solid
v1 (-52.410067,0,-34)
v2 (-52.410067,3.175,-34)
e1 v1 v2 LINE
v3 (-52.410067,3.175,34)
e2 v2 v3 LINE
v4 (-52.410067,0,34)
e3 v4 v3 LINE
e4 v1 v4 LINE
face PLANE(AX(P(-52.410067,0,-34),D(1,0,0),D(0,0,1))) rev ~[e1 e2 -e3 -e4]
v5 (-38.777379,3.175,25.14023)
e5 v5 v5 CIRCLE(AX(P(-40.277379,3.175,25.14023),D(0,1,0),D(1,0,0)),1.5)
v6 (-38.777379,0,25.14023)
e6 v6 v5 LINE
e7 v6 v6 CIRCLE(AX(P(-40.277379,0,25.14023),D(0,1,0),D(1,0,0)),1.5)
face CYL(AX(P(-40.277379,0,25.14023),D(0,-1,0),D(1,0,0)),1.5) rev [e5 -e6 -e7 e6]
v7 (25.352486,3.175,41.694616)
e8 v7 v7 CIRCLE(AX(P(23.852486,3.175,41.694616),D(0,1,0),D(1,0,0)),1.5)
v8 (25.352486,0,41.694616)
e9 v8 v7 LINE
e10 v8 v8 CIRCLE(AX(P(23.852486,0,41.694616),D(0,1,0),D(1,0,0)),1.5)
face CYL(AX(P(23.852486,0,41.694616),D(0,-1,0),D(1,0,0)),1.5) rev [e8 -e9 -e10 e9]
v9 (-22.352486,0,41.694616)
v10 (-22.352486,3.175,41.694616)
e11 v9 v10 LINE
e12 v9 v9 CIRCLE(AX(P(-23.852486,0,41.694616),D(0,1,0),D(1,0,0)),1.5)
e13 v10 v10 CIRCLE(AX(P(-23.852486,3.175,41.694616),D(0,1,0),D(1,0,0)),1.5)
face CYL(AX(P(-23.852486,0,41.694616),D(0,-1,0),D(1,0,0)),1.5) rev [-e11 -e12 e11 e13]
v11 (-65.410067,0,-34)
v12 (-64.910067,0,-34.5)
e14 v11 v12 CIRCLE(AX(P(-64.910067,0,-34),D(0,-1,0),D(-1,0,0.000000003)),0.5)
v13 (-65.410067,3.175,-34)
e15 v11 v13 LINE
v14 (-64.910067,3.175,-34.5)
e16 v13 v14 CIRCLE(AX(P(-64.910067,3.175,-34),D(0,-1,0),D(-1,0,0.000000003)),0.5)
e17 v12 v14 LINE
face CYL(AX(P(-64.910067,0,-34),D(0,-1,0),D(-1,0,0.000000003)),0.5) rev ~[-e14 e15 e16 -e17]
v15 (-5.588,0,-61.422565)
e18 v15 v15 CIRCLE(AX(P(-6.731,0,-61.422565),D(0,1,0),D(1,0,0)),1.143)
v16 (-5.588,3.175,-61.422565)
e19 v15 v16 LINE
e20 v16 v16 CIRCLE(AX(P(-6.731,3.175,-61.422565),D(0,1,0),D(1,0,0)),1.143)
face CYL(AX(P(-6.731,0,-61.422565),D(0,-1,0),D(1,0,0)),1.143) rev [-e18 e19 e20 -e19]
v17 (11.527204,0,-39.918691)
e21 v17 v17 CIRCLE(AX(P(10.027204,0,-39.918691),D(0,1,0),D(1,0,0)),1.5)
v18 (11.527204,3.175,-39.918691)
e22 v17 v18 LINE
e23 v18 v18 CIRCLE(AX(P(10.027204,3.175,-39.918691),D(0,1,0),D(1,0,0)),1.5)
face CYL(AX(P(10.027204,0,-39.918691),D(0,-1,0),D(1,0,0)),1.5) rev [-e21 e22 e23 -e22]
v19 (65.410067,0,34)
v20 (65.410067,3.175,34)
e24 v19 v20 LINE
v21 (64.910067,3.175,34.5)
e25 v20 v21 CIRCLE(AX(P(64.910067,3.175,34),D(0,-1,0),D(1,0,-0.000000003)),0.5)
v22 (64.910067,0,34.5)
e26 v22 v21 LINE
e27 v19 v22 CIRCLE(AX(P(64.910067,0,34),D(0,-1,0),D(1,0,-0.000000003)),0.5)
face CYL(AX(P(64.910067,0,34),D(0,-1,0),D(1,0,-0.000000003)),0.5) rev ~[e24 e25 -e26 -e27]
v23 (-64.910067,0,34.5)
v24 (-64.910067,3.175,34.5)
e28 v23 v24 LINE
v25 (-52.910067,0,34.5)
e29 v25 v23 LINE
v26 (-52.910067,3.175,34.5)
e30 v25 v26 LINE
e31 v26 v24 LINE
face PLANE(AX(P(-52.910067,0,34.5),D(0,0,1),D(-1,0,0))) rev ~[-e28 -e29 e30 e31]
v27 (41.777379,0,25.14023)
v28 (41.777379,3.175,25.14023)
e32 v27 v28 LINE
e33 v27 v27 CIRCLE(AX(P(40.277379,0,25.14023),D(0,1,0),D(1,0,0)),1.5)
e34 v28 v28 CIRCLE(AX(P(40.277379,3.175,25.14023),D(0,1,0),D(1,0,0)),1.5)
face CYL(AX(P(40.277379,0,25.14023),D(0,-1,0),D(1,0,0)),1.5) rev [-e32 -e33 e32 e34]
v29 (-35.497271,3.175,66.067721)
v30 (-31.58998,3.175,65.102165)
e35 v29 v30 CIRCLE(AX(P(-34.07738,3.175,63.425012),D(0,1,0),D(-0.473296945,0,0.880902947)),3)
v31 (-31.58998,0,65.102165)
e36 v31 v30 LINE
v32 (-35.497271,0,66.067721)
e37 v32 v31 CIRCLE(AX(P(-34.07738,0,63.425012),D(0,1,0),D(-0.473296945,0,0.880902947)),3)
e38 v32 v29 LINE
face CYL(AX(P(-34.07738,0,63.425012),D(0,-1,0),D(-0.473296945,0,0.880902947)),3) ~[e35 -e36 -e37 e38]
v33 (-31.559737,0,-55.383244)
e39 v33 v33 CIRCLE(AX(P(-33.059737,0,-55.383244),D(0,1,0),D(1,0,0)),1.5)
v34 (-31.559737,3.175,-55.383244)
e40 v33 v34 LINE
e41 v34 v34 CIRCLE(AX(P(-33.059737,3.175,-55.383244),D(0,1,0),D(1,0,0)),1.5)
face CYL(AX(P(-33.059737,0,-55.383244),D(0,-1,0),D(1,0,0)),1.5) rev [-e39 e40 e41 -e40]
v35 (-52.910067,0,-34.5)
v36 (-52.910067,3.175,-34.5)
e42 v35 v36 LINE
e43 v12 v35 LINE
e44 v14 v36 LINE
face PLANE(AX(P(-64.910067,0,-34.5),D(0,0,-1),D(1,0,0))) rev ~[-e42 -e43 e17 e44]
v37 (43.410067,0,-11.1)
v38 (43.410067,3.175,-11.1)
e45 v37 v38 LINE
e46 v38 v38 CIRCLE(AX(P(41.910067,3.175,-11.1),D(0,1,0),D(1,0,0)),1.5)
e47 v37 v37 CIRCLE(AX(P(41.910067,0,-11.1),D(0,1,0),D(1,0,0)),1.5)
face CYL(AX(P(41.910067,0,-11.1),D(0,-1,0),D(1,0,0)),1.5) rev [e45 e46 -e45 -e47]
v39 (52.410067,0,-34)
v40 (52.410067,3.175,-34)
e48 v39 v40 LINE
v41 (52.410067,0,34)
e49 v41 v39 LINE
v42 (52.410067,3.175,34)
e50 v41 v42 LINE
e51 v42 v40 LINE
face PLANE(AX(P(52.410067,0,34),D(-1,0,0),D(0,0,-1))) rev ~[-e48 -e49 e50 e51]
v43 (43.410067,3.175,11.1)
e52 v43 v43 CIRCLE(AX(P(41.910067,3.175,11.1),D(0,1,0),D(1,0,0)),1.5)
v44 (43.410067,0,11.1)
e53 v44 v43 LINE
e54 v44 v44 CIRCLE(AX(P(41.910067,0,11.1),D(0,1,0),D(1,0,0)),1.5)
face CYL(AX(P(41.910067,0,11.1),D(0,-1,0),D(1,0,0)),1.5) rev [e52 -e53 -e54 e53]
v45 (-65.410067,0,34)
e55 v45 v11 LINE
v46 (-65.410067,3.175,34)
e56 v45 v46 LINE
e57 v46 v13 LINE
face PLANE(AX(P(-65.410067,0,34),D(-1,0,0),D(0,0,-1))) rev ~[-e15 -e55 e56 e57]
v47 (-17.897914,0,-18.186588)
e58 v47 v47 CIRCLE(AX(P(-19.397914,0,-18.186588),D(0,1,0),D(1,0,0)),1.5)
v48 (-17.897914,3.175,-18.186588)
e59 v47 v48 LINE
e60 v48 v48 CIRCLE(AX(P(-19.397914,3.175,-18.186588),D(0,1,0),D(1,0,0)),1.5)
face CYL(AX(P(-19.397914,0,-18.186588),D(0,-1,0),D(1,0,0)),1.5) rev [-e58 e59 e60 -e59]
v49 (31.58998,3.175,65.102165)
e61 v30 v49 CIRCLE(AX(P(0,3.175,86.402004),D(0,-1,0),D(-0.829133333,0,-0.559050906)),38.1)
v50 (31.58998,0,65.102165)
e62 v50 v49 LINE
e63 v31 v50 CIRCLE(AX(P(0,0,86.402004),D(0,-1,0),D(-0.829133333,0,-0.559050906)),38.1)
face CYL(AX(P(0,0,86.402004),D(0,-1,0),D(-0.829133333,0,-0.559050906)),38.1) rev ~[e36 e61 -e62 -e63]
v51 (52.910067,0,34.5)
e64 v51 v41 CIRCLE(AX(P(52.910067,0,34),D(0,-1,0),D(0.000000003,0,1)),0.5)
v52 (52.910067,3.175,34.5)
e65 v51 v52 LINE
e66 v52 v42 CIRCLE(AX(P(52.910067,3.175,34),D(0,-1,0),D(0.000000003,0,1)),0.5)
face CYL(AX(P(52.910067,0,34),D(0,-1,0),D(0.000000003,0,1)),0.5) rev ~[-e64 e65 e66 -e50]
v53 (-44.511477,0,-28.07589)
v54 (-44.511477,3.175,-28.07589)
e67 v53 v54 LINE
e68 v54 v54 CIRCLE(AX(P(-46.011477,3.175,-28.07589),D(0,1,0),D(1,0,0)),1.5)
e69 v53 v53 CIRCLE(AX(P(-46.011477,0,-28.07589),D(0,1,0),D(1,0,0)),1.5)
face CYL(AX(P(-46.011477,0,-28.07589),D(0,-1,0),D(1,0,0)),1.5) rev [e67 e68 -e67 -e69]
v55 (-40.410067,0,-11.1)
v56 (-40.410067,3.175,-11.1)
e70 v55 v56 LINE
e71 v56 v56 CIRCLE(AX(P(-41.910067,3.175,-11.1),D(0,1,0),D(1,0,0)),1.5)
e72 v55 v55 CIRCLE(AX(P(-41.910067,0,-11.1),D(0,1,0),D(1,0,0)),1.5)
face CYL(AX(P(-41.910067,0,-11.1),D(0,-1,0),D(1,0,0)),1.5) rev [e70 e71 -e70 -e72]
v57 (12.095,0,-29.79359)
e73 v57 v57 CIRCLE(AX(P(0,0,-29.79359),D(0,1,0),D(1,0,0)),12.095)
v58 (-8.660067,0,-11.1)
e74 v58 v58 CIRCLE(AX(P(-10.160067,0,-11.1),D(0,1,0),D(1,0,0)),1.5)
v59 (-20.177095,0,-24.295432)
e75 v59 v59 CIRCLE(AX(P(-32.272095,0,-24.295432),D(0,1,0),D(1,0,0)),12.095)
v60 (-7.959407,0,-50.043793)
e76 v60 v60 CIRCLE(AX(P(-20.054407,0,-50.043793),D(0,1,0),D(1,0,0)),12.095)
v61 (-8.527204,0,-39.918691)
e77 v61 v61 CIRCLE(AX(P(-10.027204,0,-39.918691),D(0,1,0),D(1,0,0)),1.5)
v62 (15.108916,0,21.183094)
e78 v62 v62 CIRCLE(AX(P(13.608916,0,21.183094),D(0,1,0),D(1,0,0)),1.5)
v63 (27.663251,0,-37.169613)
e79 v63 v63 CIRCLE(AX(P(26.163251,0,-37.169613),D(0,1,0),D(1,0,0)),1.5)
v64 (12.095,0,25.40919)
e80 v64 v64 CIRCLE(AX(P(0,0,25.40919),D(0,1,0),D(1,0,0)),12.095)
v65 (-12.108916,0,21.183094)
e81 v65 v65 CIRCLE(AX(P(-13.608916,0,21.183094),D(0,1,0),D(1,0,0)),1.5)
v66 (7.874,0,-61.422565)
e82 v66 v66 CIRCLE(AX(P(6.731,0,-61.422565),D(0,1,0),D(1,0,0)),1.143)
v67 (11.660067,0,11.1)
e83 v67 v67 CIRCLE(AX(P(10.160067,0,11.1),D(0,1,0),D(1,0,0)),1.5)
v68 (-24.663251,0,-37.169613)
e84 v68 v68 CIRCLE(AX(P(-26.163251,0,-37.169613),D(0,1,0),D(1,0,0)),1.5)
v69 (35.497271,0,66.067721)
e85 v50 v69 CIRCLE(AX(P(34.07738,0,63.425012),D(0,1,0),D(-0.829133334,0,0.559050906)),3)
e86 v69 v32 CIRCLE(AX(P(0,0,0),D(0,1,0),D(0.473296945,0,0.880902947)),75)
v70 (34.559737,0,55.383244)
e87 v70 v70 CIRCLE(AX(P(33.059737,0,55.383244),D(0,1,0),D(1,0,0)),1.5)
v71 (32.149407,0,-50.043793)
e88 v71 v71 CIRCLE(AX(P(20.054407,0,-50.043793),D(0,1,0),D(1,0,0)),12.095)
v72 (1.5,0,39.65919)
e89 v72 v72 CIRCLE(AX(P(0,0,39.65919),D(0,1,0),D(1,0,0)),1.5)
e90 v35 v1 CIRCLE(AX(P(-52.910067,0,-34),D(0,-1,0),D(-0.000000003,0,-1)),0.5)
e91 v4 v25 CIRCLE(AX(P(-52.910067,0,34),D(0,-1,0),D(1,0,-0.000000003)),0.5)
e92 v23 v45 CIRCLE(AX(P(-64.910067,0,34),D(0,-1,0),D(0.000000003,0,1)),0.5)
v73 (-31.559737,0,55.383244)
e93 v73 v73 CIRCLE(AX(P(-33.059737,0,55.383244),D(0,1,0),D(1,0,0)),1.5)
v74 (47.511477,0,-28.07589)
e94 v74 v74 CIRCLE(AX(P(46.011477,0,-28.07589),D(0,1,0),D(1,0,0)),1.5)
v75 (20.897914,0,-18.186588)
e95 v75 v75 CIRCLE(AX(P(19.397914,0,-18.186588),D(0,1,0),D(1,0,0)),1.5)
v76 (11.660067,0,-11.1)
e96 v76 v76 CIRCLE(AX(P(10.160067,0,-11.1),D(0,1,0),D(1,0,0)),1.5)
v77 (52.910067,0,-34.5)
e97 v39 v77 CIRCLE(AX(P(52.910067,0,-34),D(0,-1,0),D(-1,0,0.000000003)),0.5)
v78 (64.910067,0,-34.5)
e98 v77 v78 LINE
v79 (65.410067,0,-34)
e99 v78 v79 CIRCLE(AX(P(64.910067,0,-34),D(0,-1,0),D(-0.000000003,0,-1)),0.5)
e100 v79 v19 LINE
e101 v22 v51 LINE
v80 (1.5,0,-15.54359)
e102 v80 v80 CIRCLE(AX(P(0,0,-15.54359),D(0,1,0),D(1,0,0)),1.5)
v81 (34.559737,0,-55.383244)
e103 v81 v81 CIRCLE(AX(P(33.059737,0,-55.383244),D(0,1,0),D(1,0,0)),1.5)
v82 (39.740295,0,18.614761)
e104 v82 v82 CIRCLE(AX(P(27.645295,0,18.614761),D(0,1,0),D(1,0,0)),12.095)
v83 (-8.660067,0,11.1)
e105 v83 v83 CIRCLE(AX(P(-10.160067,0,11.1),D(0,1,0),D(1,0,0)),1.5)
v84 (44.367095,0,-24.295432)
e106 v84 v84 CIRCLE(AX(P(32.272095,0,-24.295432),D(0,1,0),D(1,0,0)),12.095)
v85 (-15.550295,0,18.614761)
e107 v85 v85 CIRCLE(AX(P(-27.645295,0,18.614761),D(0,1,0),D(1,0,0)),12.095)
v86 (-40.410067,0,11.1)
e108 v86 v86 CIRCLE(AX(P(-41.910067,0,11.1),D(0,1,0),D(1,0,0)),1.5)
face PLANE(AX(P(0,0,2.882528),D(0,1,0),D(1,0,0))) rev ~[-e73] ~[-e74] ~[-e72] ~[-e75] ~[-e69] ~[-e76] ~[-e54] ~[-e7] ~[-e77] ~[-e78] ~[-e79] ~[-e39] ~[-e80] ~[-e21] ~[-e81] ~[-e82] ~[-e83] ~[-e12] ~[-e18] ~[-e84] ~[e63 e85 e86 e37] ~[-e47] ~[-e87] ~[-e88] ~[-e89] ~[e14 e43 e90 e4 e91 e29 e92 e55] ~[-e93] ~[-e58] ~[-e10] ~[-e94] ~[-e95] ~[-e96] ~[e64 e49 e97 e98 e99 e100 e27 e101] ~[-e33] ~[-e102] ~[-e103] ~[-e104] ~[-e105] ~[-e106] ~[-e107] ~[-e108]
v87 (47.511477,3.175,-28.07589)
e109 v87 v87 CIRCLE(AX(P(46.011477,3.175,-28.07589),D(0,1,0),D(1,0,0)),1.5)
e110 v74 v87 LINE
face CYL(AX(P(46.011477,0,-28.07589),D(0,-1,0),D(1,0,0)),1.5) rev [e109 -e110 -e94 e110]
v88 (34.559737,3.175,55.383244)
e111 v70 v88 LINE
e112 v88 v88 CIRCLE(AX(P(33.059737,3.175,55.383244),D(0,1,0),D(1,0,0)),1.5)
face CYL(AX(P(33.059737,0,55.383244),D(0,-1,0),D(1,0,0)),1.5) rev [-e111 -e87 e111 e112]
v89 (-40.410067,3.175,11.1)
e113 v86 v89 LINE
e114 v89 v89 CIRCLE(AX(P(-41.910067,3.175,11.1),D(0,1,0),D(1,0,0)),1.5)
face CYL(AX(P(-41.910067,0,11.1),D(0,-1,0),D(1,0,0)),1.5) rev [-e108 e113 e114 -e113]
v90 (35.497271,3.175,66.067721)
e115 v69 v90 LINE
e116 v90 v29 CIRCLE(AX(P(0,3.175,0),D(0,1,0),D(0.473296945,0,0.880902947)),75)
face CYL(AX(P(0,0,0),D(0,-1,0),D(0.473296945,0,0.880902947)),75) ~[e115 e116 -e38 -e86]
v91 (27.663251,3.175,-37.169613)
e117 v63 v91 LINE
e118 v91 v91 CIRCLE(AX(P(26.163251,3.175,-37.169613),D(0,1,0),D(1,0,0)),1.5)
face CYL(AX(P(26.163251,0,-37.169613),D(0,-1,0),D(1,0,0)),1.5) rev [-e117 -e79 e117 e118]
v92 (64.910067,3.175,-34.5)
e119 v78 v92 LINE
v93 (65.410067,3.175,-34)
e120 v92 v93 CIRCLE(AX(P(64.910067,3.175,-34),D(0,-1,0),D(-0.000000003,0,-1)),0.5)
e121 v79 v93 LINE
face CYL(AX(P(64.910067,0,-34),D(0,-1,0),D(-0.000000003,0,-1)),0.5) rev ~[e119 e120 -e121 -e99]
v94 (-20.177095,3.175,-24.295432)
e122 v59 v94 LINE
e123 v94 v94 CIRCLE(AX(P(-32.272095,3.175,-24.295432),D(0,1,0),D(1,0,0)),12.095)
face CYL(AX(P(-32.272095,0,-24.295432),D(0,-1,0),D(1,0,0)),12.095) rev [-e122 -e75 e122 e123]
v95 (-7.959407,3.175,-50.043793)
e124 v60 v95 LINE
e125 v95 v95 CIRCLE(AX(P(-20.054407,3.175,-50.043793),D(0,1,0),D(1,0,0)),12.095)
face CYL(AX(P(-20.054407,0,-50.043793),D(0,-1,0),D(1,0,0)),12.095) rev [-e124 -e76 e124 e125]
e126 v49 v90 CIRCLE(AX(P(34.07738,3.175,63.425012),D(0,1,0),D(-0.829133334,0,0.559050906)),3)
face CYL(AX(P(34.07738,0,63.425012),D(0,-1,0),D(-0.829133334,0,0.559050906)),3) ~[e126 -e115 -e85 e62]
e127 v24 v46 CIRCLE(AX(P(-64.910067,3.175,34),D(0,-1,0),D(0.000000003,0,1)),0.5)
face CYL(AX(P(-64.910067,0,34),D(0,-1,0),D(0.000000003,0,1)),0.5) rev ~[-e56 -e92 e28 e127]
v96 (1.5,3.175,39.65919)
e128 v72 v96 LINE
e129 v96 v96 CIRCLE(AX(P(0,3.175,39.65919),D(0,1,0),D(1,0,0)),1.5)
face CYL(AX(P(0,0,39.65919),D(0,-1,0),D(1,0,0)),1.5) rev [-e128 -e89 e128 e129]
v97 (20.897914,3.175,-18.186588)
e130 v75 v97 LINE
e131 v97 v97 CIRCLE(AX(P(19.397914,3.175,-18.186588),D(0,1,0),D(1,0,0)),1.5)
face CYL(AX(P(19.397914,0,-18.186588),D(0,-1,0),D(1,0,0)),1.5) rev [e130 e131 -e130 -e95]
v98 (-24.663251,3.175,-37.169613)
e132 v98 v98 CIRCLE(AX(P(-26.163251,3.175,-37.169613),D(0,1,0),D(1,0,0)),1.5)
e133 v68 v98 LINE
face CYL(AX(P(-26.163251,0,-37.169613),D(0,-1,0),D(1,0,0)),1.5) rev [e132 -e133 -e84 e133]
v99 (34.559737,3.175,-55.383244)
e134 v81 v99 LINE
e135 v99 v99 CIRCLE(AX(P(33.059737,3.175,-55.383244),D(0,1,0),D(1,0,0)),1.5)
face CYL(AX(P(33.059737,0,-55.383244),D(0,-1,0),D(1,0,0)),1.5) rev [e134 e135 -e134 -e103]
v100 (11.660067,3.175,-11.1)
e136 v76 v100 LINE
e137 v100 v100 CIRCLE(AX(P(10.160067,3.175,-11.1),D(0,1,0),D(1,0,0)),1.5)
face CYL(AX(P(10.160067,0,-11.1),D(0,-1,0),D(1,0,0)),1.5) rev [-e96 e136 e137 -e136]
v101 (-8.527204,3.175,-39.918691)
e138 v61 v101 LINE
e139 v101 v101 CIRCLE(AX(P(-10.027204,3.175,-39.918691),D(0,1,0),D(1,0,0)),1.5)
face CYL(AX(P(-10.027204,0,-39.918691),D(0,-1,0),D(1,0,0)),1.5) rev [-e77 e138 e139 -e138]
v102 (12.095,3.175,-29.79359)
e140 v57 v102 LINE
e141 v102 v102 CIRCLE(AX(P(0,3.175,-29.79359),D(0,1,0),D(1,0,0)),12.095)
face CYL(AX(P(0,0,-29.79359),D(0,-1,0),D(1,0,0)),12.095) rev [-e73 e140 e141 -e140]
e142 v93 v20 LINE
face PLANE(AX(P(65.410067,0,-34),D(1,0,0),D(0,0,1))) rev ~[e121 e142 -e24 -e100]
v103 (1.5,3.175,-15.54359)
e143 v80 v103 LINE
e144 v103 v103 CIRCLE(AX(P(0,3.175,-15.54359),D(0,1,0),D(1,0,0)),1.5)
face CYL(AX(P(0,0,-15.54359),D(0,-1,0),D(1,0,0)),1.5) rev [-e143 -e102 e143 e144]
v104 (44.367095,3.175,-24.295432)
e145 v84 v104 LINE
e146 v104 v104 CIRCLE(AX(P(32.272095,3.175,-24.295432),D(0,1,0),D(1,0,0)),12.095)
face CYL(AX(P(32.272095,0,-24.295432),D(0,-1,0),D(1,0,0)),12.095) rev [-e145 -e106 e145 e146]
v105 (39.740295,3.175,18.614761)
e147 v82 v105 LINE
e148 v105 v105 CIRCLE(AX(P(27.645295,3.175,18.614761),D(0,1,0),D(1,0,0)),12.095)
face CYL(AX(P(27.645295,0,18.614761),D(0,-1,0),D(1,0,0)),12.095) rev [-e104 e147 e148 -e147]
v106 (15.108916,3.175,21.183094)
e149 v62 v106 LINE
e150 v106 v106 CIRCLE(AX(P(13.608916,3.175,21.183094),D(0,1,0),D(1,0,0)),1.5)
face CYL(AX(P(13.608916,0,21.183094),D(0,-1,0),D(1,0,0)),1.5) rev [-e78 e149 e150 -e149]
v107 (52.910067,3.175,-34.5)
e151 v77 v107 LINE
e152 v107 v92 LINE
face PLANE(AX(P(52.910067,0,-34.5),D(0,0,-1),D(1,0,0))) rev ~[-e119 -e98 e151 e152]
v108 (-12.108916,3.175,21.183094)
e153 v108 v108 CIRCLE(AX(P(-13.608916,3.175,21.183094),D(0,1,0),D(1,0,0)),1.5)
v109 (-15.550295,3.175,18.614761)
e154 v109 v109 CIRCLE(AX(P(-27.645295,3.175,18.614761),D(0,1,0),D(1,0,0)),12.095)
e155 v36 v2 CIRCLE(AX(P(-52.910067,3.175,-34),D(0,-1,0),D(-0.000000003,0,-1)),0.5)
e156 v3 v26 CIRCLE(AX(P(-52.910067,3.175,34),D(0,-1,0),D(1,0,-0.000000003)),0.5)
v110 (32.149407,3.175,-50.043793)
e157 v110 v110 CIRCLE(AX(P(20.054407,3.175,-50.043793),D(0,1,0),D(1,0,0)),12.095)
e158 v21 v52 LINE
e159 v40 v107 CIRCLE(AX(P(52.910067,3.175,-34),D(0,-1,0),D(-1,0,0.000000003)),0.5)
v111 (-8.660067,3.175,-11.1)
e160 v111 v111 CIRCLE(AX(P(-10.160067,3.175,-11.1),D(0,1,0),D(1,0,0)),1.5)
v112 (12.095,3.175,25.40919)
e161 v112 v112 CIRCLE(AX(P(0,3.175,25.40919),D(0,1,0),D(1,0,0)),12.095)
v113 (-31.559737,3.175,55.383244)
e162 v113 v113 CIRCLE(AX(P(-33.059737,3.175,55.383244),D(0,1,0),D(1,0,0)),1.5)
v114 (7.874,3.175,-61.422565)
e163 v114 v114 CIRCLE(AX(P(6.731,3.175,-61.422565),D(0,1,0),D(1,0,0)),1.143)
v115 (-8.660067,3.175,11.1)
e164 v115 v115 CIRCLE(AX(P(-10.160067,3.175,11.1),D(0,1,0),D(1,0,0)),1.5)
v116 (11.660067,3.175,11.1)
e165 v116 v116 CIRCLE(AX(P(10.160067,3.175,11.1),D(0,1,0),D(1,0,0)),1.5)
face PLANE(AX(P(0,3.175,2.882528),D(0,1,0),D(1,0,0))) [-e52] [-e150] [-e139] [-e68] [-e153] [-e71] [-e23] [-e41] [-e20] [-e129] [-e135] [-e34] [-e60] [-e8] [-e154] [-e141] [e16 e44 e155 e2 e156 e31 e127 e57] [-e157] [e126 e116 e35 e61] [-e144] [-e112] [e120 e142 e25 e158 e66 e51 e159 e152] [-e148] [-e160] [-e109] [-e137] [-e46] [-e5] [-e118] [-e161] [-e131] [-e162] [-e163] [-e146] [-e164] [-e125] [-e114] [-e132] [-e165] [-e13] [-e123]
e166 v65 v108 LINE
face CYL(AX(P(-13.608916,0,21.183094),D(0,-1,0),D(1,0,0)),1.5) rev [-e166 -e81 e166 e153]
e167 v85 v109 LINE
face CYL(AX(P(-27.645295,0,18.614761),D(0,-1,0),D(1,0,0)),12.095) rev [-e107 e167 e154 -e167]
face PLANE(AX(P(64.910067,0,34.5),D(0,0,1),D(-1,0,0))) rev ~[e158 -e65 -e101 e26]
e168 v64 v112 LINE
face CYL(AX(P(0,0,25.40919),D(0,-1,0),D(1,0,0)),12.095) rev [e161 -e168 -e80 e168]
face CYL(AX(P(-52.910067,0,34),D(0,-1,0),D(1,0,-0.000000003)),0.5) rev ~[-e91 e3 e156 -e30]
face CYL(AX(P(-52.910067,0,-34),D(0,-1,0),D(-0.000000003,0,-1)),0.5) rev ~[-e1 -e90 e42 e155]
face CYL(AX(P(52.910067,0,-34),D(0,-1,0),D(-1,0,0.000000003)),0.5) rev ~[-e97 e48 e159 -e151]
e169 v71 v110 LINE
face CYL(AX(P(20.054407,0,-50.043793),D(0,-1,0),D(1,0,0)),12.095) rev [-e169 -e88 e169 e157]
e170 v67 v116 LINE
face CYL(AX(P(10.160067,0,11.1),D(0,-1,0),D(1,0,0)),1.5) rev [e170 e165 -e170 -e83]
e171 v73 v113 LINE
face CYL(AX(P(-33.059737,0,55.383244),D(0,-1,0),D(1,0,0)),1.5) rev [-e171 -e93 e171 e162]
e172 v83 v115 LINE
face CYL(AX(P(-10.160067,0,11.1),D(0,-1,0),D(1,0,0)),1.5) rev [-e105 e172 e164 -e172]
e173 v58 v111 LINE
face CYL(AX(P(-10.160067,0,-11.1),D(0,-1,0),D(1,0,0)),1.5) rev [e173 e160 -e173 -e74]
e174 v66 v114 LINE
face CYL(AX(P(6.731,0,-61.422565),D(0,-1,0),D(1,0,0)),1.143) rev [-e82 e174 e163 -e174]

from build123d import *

# Parameters (mm, degrees)
SKETCH1_R           = 1.5
SKETCH1_R_2         = 12.095
SKETCH1_R_3         = 1.143
BOSS_EXTRUDE2_DEPTH = 3.175


with BuildPart() as part:
    # Sketch1 → Boss-Extrude2 (new body)
    with BuildSketch(Plane(origin=(0, 0, 0), x_dir=(1, 0, 0), z_dir=(0, 1, 0))):
        with BuildLine():
            ThreePointArc((31.589980006, -65.102164912), (33.357679643, -66.33740492), (35.49727084, -66.067721036))
            ThreePointArc((35.49727084, -66.067721036), (0, 75), (-35.49727084, -66.067721036))
            ThreePointArc((-35.49727084, -66.067721036), (-33.357679643, -66.33740492), (-31.589980006, -65.102164912))
            ThreePointArc((-31.589980006, -65.102164912), (0, -48.302004425), (31.589980006, -65.102164912))
        make_face()
        with Locations((-33.059737365, -55.383244446)):
            Circle(SKETCH1_R, mode=Mode.SUBTRACT)
        with Locations((-23.852486199, -41.694616163)):
            Circle(SKETCH1_R, mode=Mode.SUBTRACT)
        with Locations((0, -39.659190322)):
            Circle(SKETCH1_R, mode=Mode.SUBTRACT)
        with Locations((-40.277379234, -25.14022965)):
            Circle(SKETCH1_R, mode=Mode.SUBTRACT)
        with BuildLine():
            Line((-52.910067426, -34.5), (-64.910067426, -34.5))
            ThreePointArc((-64.910067426, -34.5), (-65.263620817, -34.353553391), (-65.410067426, -34))
            Line((-65.410067426, -34), (-65.410067426, 34))
            ThreePointArc((-65.410067426, 34), (-65.263620817, 34.353553391), (-64.910067426, 34.5))
            Line((-64.910067426, 34.5), (-52.910067426, 34.5))
            ThreePointArc((-52.910067426, 34.5), (-52.556514035, 34.353553391), (-52.410067426, 34))
            Line((-52.410067426, 34), (-52.410067426, -34))
            ThreePointArc((-52.410067426, -34), (-52.556514035, -34.353553391), (-52.910067426, -34.5))
        make_face(mode=Mode.SUBTRACT)
        with Locations((-41.910067426, -11.1)):
            Circle(SKETCH1_R, mode=Mode.SUBTRACT)
        with Locations((-27.645294552, -18.614761308)):
            Circle(SKETCH1_R_2, mode=Mode.SUBTRACT)
        with Locations((0, -25.409190322)):
            Circle(SKETCH1_R_2, mode=Mode.SUBTRACT)
        with Locations((-13.608916499, -21.183093811)):
            Circle(SKETCH1_R, mode=Mode.SUBTRACT)
        with Locations((-10.160067426, -11.1)):
            Circle(SKETCH1_R, mode=Mode.SUBTRACT)
        with Locations((33.059737365, -55.383244446)):
            Circle(SKETCH1_R, mode=Mode.SUBTRACT)
        with Locations((23.852486199, -41.694616163)):
            Circle(SKETCH1_R, mode=Mode.SUBTRACT)
        with Locations((13.608916499, -21.183093811)):
            Circle(SKETCH1_R, mode=Mode.SUBTRACT)
        with Locations((27.645294552, -18.614761308)):
            Circle(SKETCH1_R_2, mode=Mode.SUBTRACT)
        with Locations((10.160067426, -11.1)):
            Circle(SKETCH1_R, mode=Mode.SUBTRACT)
        with Locations((40.277379234, -25.14022965)):
            Circle(SKETCH1_R, mode=Mode.SUBTRACT)
        with Locations((41.910067426, -11.1)):
            Circle(SKETCH1_R, mode=Mode.SUBTRACT)
        with BuildLine():
            ThreePointArc((52.910067426, -34.5), (52.556514035, -34.353553391), (52.410067426, -34))
            Line((52.410067426, -34), (52.410067426, 34))
            ThreePointArc((52.410067426, 34), (52.556514035, 34.353553391), (52.910067426, 34.5))
            Line((52.910067426, 34.5), (64.910067426, 34.5))
            ThreePointArc((64.910067426, 34.5), (65.263620817, 34.353553391), (65.410067426, 34))
            Line((65.410067426, 34), (65.410067426, -34))
            ThreePointArc((65.410067426, -34), (65.263620817, -34.353553391), (64.910067426, -34.5))
            Line((64.910067426, -34.5), (52.910067426, -34.5))
        make_face(mode=Mode.SUBTRACT)
        with Locations((-41.910067426, 11.1)):
            Circle(SKETCH1_R, mode=Mode.SUBTRACT)
        with Locations((-46.011477091, 28.075890486)):
            Circle(SKETCH1_R, mode=Mode.SUBTRACT)
        with Locations((-19.397913834, 18.186588214)):
            Circle(SKETCH1_R, mode=Mode.SUBTRACT)
        with Locations((-10.160067426, 11.1)):
            Circle(SKETCH1_R, mode=Mode.SUBTRACT)
        with Locations((0, 15.543589551)):
            Circle(SKETCH1_R, mode=Mode.SUBTRACT)
        with Locations((-32.272094543, 24.295431891)):
            Circle(SKETCH1_R_2, mode=Mode.SUBTRACT)
        with Locations((-26.163250867, 37.1696126)):
            Circle(SKETCH1_R, mode=Mode.SUBTRACT)
        with Locations((0, 29.793589551)):
            Circle(SKETCH1_R_2, mode=Mode.SUBTRACT)
        with Locations((-33.059737365, 55.383244446)):
            Circle(SKETCH1_R, mode=Mode.SUBTRACT)
        with Locations((-20.05440719, 50.04379331)):
            Circle(SKETCH1_R_2, mode=Mode.SUBTRACT)
        with Locations((-10.027203595, 39.91869143)):
            Circle(SKETCH1_R, mode=Mode.SUBTRACT)
        with Locations((-6.731, 61.422565207)):
            Circle(SKETCH1_R_3, mode=Mode.SUBTRACT)
        with Locations((10.160067426, 11.1)):
            Circle(SKETCH1_R, mode=Mode.SUBTRACT)
        with Locations((19.397913834, 18.186588214)):
            Circle(SKETCH1_R, mode=Mode.SUBTRACT)
        with Locations((32.272094543, 24.295431891)):
            Circle(SKETCH1_R_2, mode=Mode.SUBTRACT)
        with Locations((26.163250867, 37.1696126)):
            Circle(SKETCH1_R, mode=Mode.SUBTRACT)
        with Locations((41.910067426, 11.1)):
            Circle(SKETCH1_R, mode=Mode.SUBTRACT)
        with Locations((46.011477091, 28.075890486)):
            Circle(SKETCH1_R, mode=Mode.SUBTRACT)
        with Locations((10.027203595, 39.91869143)):
            Circle(SKETCH1_R, mode=Mode.SUBTRACT)
        with Locations((20.05440719, 50.04379331)):
            Circle(SKETCH1_R_2, mode=Mode.SUBTRACT)
        with Locations((33.059737365, 55.383244446)):
            Circle(SKETCH1_R, mode=Mode.SUBTRACT)
        with Locations((6.731, 61.422565207)):
            Circle(SKETCH1_R_3, mode=Mode.SUBTRACT)
    extrude(amount=BOSS_EXTRUDE2_DEPTH)


solid = part.part
